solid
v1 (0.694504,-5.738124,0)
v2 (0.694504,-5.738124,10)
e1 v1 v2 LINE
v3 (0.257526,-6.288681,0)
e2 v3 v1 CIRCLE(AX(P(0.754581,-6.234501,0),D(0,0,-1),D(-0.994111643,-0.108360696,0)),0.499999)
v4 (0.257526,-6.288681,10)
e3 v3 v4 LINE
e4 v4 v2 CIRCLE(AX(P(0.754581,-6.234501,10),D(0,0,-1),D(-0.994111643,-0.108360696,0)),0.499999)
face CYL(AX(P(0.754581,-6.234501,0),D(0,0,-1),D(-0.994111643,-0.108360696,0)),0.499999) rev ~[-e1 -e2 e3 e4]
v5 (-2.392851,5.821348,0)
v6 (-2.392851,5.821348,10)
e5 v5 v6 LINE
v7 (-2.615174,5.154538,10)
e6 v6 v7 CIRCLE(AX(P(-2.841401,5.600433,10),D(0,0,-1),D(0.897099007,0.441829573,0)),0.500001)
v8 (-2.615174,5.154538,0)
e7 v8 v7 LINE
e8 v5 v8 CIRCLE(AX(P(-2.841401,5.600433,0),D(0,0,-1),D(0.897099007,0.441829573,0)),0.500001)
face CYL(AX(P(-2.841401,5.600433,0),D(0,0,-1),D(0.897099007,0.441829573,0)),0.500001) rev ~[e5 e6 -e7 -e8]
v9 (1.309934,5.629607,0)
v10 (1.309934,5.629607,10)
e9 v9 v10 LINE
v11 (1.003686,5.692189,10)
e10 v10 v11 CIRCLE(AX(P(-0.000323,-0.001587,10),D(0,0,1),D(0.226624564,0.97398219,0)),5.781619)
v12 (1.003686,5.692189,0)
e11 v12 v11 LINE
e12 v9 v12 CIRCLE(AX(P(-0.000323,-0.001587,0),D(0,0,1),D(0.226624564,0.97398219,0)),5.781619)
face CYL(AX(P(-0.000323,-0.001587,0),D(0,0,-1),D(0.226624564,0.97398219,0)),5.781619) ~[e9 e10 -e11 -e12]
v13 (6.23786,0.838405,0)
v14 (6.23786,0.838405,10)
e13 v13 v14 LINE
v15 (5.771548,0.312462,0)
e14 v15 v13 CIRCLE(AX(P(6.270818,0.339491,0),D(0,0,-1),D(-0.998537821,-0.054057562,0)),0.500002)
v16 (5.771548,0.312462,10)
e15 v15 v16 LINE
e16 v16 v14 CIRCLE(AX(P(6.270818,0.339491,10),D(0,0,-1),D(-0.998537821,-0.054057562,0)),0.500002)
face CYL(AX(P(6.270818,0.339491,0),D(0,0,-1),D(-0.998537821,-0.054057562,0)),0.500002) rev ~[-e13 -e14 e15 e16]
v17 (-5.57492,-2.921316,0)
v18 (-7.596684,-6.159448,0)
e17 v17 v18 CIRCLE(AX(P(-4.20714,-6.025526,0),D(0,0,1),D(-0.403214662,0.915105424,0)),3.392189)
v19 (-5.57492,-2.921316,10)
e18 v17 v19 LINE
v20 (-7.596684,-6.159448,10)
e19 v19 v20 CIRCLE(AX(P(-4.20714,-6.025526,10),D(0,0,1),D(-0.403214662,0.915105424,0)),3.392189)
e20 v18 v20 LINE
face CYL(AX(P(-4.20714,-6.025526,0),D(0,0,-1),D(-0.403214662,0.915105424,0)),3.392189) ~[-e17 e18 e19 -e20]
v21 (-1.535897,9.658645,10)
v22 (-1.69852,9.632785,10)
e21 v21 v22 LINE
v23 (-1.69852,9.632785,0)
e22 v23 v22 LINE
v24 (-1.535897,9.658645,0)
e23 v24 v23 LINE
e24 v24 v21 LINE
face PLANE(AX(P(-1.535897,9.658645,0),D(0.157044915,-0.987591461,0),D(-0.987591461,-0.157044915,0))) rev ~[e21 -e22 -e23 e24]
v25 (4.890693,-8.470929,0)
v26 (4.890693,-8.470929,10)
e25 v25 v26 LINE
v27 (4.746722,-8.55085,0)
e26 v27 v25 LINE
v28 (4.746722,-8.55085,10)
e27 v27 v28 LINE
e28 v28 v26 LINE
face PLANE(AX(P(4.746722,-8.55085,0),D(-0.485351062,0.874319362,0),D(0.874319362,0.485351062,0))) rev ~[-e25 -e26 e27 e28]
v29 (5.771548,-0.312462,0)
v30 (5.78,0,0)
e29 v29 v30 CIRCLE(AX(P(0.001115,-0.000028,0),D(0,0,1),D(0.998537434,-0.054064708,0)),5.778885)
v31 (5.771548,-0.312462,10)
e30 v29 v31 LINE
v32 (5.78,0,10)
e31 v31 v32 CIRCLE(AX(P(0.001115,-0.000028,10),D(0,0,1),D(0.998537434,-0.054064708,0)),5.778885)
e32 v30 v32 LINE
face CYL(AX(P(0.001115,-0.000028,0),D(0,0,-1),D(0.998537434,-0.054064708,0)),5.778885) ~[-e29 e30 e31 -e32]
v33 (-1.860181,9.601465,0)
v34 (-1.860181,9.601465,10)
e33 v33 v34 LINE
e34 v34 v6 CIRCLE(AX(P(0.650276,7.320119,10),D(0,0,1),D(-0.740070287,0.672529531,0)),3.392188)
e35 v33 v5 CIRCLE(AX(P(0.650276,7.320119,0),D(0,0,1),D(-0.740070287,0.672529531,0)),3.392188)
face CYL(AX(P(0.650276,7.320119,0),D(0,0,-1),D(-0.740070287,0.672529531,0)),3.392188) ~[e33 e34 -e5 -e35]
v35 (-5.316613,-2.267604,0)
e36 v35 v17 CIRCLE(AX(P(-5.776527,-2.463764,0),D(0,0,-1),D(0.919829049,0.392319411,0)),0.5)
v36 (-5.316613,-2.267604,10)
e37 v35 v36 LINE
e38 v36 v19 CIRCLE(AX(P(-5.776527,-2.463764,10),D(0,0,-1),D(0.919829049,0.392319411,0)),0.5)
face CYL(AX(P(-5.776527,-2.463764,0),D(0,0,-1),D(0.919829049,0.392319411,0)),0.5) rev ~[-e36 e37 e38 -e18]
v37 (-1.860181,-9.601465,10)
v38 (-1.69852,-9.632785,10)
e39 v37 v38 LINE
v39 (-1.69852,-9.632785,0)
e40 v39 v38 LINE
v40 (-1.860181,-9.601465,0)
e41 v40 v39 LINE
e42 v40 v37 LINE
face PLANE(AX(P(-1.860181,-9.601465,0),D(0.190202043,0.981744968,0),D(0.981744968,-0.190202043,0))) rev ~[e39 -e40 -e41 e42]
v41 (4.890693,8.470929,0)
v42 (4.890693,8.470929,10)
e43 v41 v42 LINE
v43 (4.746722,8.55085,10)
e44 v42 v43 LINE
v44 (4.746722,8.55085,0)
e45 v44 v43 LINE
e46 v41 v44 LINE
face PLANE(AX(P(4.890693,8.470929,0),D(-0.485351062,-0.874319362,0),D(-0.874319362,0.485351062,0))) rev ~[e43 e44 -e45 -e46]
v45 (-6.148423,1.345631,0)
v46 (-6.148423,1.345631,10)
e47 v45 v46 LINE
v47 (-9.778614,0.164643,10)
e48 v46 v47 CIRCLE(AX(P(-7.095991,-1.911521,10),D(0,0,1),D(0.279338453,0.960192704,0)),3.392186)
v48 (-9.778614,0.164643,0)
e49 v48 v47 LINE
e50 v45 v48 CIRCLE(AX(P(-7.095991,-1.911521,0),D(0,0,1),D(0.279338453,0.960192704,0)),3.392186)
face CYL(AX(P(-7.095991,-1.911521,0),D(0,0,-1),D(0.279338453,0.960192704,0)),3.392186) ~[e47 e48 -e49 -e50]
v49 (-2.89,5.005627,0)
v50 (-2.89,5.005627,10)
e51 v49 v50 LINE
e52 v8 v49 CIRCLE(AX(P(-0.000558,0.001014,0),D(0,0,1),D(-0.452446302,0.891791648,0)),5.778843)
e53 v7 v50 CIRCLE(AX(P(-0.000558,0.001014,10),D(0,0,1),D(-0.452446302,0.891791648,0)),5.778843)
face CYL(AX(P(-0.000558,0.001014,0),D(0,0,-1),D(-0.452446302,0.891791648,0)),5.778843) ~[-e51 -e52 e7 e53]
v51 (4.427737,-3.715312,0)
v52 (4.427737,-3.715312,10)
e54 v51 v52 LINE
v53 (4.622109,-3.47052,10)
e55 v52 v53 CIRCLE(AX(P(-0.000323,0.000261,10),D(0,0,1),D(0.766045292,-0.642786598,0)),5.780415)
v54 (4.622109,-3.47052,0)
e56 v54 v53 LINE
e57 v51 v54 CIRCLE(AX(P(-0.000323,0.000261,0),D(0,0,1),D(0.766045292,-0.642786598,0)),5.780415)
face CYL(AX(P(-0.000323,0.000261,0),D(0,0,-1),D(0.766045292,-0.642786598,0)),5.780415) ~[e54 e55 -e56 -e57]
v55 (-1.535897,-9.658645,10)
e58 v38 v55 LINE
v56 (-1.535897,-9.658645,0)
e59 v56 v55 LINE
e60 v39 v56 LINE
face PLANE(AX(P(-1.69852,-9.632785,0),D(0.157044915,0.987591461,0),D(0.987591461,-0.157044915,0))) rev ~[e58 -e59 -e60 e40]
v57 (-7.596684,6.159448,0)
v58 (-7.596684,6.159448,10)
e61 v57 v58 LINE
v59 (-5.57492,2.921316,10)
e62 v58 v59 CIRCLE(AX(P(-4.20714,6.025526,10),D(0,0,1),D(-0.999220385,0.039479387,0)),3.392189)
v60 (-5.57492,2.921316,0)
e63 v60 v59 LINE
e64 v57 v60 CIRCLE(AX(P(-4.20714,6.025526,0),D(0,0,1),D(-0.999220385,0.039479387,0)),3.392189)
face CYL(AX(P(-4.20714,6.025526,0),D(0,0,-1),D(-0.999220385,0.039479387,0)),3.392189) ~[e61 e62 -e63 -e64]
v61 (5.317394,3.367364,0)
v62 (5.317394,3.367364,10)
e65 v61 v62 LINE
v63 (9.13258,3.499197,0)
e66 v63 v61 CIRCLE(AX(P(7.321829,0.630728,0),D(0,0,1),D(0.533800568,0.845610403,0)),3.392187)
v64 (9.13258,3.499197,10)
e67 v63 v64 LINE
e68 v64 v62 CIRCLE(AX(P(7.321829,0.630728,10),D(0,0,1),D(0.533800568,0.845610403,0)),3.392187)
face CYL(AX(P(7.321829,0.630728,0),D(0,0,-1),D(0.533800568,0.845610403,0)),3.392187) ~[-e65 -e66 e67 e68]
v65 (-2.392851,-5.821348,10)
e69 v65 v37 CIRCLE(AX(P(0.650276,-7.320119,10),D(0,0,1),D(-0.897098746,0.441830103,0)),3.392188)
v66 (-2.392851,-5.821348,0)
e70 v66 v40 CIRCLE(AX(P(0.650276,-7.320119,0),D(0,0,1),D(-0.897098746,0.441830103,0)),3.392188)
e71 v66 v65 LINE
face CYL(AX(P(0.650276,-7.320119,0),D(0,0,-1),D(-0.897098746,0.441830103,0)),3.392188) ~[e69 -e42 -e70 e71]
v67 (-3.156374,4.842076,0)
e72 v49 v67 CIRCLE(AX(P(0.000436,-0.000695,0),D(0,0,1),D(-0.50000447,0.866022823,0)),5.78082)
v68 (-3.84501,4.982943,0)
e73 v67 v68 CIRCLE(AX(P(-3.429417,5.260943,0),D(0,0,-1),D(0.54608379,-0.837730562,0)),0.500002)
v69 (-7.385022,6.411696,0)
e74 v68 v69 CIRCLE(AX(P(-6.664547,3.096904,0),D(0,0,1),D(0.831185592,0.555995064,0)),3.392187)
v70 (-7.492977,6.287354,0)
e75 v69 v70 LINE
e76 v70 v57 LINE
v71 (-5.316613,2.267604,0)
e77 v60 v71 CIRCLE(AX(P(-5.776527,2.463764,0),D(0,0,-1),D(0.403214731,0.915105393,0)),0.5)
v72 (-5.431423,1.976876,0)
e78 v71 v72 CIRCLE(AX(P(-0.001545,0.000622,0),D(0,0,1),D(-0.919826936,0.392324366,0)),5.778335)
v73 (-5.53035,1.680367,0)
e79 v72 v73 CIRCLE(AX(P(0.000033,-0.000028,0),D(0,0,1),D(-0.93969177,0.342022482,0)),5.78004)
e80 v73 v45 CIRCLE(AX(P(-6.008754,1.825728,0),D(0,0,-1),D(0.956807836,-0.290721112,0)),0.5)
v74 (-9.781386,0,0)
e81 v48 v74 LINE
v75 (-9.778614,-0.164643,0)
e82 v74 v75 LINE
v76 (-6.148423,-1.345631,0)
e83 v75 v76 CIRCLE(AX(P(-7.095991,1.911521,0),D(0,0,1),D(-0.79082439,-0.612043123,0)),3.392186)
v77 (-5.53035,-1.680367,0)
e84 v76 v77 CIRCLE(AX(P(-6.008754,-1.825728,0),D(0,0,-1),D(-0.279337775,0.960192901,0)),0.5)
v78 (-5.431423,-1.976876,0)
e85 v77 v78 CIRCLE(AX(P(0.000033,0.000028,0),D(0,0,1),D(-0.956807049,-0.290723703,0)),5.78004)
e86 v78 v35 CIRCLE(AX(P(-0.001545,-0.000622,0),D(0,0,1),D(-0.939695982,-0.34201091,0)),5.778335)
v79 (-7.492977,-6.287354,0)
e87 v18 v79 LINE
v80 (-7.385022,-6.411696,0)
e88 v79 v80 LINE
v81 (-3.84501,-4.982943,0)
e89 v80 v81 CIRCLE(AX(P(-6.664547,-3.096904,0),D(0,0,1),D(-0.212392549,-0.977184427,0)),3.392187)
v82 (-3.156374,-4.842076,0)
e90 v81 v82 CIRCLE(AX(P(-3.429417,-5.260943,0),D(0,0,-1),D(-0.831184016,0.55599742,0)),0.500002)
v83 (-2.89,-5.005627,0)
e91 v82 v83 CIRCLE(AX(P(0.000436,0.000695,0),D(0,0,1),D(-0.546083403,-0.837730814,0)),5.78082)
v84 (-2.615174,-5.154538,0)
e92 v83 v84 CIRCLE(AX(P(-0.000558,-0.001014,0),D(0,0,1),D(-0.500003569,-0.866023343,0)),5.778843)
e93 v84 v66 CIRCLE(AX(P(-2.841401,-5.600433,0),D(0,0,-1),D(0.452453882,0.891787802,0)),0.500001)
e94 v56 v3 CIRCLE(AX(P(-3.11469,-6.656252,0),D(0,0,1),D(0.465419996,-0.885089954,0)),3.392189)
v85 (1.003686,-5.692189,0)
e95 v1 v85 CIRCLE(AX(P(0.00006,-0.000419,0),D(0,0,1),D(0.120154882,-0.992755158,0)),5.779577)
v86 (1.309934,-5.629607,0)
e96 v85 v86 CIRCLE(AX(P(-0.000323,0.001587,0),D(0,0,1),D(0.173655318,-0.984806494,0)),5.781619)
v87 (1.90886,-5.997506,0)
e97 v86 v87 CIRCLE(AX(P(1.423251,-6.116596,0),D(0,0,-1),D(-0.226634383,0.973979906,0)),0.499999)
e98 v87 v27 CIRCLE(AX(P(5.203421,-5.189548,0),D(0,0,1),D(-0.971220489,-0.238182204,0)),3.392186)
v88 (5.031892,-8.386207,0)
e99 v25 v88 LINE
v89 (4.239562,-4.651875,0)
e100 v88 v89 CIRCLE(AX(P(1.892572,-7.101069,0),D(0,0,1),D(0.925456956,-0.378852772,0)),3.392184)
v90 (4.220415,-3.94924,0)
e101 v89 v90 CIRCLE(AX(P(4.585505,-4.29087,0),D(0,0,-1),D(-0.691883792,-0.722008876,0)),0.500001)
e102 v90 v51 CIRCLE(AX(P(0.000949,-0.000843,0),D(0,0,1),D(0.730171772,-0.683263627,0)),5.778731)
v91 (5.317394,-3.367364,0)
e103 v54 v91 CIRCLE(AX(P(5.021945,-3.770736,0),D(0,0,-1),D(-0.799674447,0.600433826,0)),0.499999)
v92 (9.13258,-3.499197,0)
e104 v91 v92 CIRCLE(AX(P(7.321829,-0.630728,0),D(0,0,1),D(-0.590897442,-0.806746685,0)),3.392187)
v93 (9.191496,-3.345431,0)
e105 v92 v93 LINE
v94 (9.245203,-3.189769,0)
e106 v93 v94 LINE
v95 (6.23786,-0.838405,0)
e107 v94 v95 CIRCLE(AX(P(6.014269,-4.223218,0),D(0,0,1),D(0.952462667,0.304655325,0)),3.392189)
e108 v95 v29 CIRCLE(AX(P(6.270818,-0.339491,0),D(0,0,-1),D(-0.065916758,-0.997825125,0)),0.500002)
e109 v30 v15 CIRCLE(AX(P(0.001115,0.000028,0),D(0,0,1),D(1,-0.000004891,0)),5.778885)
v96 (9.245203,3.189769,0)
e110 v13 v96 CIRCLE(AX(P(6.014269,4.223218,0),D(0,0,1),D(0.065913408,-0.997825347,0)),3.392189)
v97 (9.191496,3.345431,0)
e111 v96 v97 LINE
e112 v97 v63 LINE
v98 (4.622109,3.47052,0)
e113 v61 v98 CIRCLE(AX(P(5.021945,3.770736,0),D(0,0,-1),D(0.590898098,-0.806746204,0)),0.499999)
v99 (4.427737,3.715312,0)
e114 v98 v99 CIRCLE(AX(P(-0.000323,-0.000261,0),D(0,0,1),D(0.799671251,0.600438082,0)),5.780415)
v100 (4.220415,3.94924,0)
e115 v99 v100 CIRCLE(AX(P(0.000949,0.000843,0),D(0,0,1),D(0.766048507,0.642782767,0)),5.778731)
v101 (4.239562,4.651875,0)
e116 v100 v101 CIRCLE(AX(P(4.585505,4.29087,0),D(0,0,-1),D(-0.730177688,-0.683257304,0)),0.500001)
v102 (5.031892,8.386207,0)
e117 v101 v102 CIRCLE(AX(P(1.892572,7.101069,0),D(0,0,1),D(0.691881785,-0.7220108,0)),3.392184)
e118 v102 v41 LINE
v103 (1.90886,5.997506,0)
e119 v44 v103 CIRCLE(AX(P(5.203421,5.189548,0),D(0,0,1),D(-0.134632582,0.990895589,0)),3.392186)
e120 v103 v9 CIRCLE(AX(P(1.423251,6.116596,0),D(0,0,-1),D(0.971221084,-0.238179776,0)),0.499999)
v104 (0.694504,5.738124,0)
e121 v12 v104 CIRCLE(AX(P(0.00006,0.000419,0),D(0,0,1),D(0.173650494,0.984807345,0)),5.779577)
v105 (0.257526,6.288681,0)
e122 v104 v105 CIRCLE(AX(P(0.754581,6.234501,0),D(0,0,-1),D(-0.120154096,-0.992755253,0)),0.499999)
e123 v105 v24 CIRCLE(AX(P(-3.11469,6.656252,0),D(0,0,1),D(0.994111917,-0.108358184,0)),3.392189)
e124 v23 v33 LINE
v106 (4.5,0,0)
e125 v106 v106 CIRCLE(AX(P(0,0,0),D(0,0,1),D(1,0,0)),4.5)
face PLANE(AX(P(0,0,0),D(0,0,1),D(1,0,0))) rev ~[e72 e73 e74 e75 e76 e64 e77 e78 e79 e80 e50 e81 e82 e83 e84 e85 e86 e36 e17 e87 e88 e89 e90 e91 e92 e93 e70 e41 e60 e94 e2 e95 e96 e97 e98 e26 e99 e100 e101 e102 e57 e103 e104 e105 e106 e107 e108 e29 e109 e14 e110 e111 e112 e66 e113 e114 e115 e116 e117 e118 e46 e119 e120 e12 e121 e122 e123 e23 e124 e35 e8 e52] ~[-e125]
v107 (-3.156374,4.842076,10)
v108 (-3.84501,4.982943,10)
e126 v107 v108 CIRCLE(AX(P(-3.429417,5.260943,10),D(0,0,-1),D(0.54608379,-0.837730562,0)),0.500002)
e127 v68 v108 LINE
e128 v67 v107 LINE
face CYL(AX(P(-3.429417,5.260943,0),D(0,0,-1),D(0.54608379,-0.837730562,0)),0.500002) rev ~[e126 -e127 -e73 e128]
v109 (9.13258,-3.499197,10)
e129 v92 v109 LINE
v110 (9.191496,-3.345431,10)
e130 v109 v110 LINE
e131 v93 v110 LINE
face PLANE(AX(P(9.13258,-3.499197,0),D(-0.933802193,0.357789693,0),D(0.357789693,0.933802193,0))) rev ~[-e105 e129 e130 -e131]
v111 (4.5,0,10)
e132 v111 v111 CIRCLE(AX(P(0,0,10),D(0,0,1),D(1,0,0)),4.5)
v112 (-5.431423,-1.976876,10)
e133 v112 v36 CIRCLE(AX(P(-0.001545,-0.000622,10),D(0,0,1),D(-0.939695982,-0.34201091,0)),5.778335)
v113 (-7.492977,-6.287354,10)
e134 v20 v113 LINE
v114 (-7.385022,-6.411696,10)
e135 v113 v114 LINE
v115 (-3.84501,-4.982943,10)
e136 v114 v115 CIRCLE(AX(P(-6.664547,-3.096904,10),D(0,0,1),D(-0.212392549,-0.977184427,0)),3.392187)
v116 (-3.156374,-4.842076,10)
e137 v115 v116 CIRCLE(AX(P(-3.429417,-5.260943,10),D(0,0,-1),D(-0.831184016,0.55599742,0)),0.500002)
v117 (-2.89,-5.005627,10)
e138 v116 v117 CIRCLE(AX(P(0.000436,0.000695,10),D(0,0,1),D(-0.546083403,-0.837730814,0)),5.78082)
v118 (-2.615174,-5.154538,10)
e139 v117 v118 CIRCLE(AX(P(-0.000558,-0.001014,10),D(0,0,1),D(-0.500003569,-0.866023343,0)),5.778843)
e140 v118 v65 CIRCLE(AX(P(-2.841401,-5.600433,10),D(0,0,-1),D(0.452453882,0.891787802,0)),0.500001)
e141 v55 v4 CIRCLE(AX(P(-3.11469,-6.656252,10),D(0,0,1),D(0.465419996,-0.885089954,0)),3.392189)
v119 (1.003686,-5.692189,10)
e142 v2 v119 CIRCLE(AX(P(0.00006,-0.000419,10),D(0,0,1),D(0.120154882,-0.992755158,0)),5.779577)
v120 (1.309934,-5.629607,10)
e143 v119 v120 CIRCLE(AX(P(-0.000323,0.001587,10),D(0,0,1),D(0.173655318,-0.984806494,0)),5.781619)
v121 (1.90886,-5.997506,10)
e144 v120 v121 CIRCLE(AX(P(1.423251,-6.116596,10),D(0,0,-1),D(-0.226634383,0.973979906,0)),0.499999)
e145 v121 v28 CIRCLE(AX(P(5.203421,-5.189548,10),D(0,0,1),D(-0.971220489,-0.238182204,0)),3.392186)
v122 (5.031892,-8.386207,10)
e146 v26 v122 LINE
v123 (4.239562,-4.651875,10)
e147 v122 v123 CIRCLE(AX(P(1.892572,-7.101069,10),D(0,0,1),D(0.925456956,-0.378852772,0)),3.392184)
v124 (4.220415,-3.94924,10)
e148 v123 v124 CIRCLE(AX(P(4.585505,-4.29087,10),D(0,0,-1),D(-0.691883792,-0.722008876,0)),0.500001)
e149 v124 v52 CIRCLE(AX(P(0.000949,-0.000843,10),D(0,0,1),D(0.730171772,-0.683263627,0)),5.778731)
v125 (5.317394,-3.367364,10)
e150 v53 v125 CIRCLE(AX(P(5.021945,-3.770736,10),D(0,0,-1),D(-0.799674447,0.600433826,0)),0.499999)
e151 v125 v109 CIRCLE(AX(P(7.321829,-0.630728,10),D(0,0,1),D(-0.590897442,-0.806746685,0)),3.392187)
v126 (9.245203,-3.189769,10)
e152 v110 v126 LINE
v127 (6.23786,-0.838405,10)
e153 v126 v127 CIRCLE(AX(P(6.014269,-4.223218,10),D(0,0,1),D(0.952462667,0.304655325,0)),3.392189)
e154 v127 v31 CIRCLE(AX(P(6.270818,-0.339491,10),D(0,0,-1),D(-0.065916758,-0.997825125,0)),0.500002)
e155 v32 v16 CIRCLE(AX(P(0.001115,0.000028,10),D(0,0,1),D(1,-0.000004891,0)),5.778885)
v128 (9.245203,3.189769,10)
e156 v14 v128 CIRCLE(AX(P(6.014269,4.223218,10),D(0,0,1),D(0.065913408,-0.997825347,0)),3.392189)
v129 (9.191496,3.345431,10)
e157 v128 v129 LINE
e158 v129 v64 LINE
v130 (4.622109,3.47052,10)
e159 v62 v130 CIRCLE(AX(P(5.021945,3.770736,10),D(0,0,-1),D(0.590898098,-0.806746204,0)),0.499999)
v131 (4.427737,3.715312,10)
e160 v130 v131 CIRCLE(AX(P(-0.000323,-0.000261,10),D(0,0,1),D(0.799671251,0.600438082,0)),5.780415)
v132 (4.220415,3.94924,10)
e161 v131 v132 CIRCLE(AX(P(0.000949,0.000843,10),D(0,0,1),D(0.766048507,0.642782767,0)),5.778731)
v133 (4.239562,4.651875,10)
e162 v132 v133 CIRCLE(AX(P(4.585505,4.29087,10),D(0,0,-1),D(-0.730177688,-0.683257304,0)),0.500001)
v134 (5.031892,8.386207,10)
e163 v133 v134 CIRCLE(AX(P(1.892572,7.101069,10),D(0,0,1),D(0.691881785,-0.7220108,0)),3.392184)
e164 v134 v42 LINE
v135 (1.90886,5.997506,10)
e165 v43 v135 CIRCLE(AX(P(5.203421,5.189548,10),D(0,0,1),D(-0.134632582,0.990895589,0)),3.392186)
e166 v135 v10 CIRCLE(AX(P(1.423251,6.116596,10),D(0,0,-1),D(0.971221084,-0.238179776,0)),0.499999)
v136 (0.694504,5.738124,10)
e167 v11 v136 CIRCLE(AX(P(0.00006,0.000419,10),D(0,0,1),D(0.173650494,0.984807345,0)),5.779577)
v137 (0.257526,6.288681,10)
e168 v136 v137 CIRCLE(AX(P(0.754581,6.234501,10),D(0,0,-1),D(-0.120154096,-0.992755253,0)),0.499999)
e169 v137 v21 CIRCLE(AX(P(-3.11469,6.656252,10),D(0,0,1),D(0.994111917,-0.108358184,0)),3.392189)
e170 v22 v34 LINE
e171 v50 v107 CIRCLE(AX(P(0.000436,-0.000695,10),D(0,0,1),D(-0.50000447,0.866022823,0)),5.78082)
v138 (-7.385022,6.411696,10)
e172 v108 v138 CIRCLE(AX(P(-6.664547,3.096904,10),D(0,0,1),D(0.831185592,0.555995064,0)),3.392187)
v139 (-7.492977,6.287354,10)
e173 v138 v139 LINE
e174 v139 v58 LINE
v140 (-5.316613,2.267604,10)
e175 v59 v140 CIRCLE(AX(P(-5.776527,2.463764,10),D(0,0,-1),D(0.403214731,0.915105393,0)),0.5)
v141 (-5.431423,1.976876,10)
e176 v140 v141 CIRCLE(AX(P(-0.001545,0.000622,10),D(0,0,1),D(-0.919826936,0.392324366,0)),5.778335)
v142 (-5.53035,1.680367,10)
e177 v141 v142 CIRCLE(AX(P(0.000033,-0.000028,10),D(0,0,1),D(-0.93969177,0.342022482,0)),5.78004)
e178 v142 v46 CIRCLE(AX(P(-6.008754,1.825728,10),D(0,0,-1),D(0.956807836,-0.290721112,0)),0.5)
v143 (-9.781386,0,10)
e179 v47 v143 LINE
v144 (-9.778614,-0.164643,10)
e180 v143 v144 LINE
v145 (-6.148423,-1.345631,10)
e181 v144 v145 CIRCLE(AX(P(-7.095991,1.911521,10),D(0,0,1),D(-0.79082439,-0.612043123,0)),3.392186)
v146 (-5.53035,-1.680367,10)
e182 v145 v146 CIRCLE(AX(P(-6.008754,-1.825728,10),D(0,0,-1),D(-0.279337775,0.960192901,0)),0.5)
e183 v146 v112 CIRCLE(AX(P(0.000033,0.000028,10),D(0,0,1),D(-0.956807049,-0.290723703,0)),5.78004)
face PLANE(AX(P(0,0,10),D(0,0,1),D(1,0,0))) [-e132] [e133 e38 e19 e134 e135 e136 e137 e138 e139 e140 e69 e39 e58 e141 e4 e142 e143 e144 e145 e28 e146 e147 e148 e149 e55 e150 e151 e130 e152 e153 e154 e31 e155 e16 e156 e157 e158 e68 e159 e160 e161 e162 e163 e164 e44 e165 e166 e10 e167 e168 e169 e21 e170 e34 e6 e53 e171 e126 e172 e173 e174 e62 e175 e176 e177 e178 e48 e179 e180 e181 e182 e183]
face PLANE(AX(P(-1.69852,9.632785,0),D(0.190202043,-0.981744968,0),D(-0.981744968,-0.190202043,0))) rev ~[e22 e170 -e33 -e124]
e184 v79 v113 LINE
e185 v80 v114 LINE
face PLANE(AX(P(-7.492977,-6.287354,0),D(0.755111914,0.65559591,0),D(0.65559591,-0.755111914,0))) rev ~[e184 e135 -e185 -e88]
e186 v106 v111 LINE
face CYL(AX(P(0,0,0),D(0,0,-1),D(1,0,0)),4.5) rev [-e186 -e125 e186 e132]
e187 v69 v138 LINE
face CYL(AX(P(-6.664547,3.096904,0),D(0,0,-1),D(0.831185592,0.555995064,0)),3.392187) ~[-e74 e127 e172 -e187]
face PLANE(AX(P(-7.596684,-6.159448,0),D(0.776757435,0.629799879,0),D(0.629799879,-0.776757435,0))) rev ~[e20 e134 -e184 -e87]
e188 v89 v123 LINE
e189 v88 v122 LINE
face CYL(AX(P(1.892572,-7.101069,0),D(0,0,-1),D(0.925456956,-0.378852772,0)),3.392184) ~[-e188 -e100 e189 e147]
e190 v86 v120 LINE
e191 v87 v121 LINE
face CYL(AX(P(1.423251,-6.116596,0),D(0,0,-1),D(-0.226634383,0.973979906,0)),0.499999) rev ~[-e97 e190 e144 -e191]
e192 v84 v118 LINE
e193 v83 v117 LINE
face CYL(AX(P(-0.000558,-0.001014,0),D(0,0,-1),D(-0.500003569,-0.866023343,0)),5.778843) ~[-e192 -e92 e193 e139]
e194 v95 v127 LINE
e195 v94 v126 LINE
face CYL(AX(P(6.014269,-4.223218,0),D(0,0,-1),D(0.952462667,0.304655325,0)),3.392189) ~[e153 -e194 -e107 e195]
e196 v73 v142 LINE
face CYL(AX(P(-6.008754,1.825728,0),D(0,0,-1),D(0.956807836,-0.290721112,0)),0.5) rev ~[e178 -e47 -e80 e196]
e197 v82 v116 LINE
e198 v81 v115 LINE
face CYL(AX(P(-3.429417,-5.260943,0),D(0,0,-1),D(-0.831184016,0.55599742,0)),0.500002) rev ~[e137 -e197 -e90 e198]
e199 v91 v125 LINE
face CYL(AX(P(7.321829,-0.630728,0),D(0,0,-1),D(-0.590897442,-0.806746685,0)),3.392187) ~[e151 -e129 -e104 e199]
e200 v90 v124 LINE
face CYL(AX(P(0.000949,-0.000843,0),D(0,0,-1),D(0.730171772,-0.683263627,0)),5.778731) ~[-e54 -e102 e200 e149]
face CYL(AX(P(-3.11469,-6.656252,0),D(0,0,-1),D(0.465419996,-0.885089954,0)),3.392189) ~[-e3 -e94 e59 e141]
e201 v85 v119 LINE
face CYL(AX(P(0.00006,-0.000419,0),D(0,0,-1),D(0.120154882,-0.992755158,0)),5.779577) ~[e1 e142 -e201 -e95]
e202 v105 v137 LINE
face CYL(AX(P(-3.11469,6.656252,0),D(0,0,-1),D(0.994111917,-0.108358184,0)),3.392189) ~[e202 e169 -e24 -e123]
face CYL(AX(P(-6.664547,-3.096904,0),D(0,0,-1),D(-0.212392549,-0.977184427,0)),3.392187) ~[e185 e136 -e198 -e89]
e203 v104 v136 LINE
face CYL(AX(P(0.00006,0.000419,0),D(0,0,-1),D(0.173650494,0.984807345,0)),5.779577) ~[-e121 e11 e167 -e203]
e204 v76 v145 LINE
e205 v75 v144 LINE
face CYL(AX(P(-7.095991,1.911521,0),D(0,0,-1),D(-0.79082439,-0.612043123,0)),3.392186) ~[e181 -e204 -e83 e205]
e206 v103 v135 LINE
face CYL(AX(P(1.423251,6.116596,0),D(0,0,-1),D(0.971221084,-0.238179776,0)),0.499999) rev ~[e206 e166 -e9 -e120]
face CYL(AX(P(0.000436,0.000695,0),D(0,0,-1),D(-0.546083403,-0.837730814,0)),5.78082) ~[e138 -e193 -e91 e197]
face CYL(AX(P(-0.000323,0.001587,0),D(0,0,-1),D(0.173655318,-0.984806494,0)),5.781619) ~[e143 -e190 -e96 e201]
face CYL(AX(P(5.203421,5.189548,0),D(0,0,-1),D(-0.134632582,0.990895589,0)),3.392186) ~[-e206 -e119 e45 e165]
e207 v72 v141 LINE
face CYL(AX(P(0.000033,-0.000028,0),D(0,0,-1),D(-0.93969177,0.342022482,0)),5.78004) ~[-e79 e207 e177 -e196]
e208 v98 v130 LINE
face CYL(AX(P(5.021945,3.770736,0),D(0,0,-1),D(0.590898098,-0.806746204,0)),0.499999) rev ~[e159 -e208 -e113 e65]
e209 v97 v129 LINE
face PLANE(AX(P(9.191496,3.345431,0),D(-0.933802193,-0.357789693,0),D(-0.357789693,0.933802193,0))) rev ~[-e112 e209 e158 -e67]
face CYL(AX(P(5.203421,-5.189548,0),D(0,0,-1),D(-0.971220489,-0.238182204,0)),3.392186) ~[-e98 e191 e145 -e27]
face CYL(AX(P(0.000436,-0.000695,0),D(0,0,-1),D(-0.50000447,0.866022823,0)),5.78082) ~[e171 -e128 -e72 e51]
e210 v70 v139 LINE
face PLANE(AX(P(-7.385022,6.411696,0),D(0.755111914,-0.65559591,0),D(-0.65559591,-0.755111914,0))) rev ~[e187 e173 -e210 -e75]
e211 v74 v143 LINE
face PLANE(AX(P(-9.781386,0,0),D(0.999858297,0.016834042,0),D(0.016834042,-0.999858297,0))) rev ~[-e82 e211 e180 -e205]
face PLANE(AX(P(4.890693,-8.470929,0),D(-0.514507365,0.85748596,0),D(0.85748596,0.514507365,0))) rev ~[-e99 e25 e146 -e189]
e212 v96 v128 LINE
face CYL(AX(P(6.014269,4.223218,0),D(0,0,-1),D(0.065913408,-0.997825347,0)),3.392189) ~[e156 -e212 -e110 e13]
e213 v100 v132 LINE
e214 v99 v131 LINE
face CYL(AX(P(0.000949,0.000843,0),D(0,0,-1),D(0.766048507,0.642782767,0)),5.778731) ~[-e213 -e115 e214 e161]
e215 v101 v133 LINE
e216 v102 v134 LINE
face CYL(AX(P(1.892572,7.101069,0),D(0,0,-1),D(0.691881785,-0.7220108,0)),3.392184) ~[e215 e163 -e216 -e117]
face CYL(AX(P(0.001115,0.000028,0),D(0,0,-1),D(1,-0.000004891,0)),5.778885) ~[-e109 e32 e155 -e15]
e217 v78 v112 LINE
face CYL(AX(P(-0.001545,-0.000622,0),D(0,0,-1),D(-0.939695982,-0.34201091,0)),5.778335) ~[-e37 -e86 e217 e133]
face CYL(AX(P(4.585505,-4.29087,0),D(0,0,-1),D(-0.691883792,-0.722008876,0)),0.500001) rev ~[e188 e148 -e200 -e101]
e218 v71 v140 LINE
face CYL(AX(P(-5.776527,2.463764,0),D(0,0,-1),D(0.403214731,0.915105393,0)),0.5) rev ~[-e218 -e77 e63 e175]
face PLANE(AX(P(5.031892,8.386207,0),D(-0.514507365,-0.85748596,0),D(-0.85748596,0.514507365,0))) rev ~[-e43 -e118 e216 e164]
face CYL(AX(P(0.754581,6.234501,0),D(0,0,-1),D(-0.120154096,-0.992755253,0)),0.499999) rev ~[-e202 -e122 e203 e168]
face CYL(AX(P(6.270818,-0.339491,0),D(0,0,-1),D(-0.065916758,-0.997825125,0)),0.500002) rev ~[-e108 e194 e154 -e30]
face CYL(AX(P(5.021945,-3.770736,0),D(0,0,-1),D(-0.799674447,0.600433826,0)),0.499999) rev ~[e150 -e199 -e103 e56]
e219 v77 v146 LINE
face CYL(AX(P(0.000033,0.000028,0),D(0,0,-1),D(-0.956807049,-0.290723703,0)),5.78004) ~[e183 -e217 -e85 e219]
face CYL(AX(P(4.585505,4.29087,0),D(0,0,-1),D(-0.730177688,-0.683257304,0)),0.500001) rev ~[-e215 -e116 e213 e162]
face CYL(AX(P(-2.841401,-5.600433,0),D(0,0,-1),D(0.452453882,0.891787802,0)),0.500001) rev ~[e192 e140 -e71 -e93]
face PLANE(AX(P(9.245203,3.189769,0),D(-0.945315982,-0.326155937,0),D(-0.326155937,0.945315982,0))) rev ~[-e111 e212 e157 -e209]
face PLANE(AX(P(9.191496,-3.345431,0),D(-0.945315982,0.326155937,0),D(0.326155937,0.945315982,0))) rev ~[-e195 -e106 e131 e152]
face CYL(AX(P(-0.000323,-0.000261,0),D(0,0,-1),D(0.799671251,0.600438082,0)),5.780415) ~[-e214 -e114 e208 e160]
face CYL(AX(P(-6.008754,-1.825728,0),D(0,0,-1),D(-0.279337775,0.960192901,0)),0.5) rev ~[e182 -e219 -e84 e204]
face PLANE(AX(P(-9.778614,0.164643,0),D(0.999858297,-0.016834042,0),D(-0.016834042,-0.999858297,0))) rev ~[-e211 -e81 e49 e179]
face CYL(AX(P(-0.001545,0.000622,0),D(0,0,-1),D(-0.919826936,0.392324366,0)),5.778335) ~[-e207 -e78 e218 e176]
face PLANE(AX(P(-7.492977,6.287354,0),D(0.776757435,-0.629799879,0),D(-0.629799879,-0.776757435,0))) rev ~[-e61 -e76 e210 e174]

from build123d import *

# Parameters (mm, degrees)
F0_R     = 4.5
F1_DEPTH = 10


with BuildPart() as f1:
    # F0 (on Top) → F1 (new body)
    with BuildSketch(Plane.XY):
        with BuildLine():
            ThreePointArc((-2.392851, 5.821348), (-2.36707, 5.442285), (-2.615174, 5.154538))
            ThreePointArc((-2.615174, 5.154538), (-2.753594, 5.081941), (-2.89, 5.005627))
            ThreePointArc((-2.89, 5.005627), (-3.024293, 4.925652), (-3.156374, 4.842076))
            ThreePointArc((-3.156374, 4.842076), (-3.529622, 4.771085), (-3.84501, 4.982943))
            ThreePointArc((-3.84501, 4.982943), (-5.394961, 6.242549), (-7.385022, 6.411696))
            Line((-7.385022, 6.411696), (-7.492977, 6.287354))
            Line((-7.492977, 6.287354), (-7.596684, 6.159448))
            ThreePointArc((-7.596684, 6.159448), (-7.084536, 4.228992), (-5.57492, 2.921316))
            ThreePointArc((-5.57492, 2.921316), (-5.311514, 2.647509), (-5.316613, 2.267604))
            ThreePointArc((-5.316613, 2.267604), (-5.375984, 2.123017), (-5.431423, 1.976876))
            ThreePointArc((-5.431423, 1.976876), (-5.482891, 1.829291), (-5.53035, 1.680367))
            ThreePointArc((-5.53035, 1.680367), (-5.770641, 1.386066), (-6.148423, 1.345631))
            ThreePointArc((-6.148423, 1.345631), (-8.145413, 1.314256), (-9.778614, 0.164643))
            Line((-9.778614, 0.164643), (-9.781386, 0))
            Line((-9.781386, 0), (-9.778614, -0.164643))
            ThreePointArc((-9.778614, -0.164643), (-8.145413, -1.314256), (-6.148423, -1.345631))
            ThreePointArc((-6.148423, -1.345631), (-5.770641, -1.386066), (-5.53035, -1.680367))
            ThreePointArc((-5.53035, -1.680367), (-5.482891, -1.829291), (-5.431423, -1.976876))
            ThreePointArc((-5.431423, -1.976876), (-5.375984, -2.123017), (-5.316613, -2.267604))
            ThreePointArc((-5.316613, -2.267604), (-5.311514, -2.647509), (-5.57492, -2.921316))
            ThreePointArc((-5.57492, -2.921316), (-7.084536, -4.228992), (-7.596684, -6.159448))
            Line((-7.596684, -6.159448), (-7.492977, -6.287354))
            Line((-7.492977, -6.287354), (-7.385022, -6.411696))
            ThreePointArc((-7.385022, -6.411696), (-5.394961, -6.242549), (-3.84501, -4.982943))
            ThreePointArc((-3.84501, -4.982943), (-3.529622, -4.771085), (-3.156374, -4.842076))
            ThreePointArc((-3.156374, -4.842076), (-3.024293, -4.925652), (-2.89, -5.005627))
            ThreePointArc((-2.89, -5.005627), (-2.753594, -5.081941), (-2.615174, -5.154538))
            ThreePointArc((-2.615174, -5.154538), (-2.36707, -5.442285), (-2.392851, -5.821348))
            ThreePointArc((-2.392851, -5.821348), (-2.708726, -7.793448), (-1.860181, -9.601465))
            Line((-1.860181, -9.601465), (-1.69852, -9.632785))
            Line((-1.69852, -9.632785), (-1.535897, -9.658645))
            ThreePointArc((-1.535897, -9.658645), (-0.120147, -8.249884), (0.257526, -6.288681))
            ThreePointArc((0.257526, -6.288681), (0.362947, -5.92366), (0.694504, -5.738124))
            ThreePointArc((0.694504, -5.738124), (0.849406, -5.717247), (1.003686, -5.692189))
            ThreePointArc((1.003686, -5.692189), (1.157233, -5.662968), (1.309934, -5.629607))
            ThreePointArc((1.309934, -5.629607), (1.684953, -5.690555), (1.90886, -5.997506))
            ThreePointArc((1.90886, -5.997506), (2.934527, -7.711263), (4.746722, -8.55085))
            Line((4.746722, -8.55085), (4.890693, -8.470929))
            Line((4.890693, -8.470929), (5.031892, -8.386207))
            ThreePointArc((5.031892, -8.386207), (5.210886, -6.397007), (4.239562, -4.651875))
            ThreePointArc((4.239562, -4.651875), (4.085689, -4.304489), (4.220415, -3.94924))
            ThreePointArc((4.220415, -3.94924), (4.325658, -3.833678), (4.427737, -3.715312))
            ThreePointArc((4.427737, -3.715312), (4.526578, -3.59423), (4.622109, -3.47052))
            ThreePointArc((4.622109, -3.47052), (4.948567, -3.276151), (5.317394, -3.367364))
            ThreePointArc((5.317394, -3.367364), (7.204682, -4.020892), (9.13258, -3.499197))
            Line((9.13258, -3.499197), (9.191496, -3.345431))
            Line((9.191496, -3.345431), (9.245203, -3.189769))
            ThreePointArc((9.245203, -3.189769), (8.103686, -1.550899), (6.23786, -0.838405))
            ThreePointArc((6.23786, -0.838405), (5.896692, -0.6712), (5.771548, -0.312462))
            ThreePointArc((5.771548, -0.312462), (5.777887, -0.156288), (5.78, 0))
            ThreePointArc((5.78, 0), (5.777887, 0.156288), (5.771548, 0.312462))
            ThreePointArc((5.771548, 0.312462), (5.896692, 0.6712), (6.23786, 0.838405))
            ThreePointArc((6.23786, 0.838405), (8.103686, 1.550899), (9.245203, 3.189769))
            Line((9.245203, 3.189769), (9.191496, 3.345431))
            Line((9.191496, 3.345431), (9.13258, 3.499197))
            ThreePointArc((9.13258, 3.499197), (7.204682, 4.020892), (5.317394, 3.367364))
            ThreePointArc((5.317394, 3.367364), (4.948567, 3.276151), (4.622109, 3.47052))
            ThreePointArc((4.622109, 3.47052), (4.526578, 3.59423), (4.427737, 3.715312))
            ThreePointArc((4.427737, 3.715312), (4.325658, 3.833678), (4.220415, 3.94924))
            ThreePointArc((4.220415, 3.94924), (4.085689, 4.304489), (4.239562, 4.651875))
            ThreePointArc((4.239562, 4.651875), (5.210886, 6.397007), (5.031892, 8.386207))
            Line((5.031892, 8.386207), (4.890693, 8.470929))
            Line((4.890693, 8.470929), (4.746722, 8.55085))
            ThreePointArc((4.746722, 8.55085), (2.934527, 7.711263), (1.90886, 5.997506))
            ThreePointArc((1.90886, 5.997506), (1.684953, 5.690555), (1.309934, 5.629607))
            ThreePointArc((1.309934, 5.629607), (1.157233, 5.662968), (1.003686, 5.692189))
            ThreePointArc((1.003686, 5.692189), (0.849406, 5.717247), (0.694504, 5.738124))
            ThreePointArc((0.694504, 5.738124), (0.362947, 5.92366), (0.257526, 6.288681))
            ThreePointArc((0.257526, 6.288681), (-0.120147, 8.249884), (-1.535897, 9.658645))
            Line((-1.535897, 9.658645), (-1.69852, 9.632785))
            Line((-1.69852, 9.632785), (-1.860181, 9.601465))
            ThreePointArc((-1.860181, 9.601465), (-2.708726, 7.793448), (-2.392851, 5.821348))
        make_face()
        Circle(F0_R, mode=Mode.SUBTRACT)
    extrude(amount=F1_DEPTH)


solid = f1.part
